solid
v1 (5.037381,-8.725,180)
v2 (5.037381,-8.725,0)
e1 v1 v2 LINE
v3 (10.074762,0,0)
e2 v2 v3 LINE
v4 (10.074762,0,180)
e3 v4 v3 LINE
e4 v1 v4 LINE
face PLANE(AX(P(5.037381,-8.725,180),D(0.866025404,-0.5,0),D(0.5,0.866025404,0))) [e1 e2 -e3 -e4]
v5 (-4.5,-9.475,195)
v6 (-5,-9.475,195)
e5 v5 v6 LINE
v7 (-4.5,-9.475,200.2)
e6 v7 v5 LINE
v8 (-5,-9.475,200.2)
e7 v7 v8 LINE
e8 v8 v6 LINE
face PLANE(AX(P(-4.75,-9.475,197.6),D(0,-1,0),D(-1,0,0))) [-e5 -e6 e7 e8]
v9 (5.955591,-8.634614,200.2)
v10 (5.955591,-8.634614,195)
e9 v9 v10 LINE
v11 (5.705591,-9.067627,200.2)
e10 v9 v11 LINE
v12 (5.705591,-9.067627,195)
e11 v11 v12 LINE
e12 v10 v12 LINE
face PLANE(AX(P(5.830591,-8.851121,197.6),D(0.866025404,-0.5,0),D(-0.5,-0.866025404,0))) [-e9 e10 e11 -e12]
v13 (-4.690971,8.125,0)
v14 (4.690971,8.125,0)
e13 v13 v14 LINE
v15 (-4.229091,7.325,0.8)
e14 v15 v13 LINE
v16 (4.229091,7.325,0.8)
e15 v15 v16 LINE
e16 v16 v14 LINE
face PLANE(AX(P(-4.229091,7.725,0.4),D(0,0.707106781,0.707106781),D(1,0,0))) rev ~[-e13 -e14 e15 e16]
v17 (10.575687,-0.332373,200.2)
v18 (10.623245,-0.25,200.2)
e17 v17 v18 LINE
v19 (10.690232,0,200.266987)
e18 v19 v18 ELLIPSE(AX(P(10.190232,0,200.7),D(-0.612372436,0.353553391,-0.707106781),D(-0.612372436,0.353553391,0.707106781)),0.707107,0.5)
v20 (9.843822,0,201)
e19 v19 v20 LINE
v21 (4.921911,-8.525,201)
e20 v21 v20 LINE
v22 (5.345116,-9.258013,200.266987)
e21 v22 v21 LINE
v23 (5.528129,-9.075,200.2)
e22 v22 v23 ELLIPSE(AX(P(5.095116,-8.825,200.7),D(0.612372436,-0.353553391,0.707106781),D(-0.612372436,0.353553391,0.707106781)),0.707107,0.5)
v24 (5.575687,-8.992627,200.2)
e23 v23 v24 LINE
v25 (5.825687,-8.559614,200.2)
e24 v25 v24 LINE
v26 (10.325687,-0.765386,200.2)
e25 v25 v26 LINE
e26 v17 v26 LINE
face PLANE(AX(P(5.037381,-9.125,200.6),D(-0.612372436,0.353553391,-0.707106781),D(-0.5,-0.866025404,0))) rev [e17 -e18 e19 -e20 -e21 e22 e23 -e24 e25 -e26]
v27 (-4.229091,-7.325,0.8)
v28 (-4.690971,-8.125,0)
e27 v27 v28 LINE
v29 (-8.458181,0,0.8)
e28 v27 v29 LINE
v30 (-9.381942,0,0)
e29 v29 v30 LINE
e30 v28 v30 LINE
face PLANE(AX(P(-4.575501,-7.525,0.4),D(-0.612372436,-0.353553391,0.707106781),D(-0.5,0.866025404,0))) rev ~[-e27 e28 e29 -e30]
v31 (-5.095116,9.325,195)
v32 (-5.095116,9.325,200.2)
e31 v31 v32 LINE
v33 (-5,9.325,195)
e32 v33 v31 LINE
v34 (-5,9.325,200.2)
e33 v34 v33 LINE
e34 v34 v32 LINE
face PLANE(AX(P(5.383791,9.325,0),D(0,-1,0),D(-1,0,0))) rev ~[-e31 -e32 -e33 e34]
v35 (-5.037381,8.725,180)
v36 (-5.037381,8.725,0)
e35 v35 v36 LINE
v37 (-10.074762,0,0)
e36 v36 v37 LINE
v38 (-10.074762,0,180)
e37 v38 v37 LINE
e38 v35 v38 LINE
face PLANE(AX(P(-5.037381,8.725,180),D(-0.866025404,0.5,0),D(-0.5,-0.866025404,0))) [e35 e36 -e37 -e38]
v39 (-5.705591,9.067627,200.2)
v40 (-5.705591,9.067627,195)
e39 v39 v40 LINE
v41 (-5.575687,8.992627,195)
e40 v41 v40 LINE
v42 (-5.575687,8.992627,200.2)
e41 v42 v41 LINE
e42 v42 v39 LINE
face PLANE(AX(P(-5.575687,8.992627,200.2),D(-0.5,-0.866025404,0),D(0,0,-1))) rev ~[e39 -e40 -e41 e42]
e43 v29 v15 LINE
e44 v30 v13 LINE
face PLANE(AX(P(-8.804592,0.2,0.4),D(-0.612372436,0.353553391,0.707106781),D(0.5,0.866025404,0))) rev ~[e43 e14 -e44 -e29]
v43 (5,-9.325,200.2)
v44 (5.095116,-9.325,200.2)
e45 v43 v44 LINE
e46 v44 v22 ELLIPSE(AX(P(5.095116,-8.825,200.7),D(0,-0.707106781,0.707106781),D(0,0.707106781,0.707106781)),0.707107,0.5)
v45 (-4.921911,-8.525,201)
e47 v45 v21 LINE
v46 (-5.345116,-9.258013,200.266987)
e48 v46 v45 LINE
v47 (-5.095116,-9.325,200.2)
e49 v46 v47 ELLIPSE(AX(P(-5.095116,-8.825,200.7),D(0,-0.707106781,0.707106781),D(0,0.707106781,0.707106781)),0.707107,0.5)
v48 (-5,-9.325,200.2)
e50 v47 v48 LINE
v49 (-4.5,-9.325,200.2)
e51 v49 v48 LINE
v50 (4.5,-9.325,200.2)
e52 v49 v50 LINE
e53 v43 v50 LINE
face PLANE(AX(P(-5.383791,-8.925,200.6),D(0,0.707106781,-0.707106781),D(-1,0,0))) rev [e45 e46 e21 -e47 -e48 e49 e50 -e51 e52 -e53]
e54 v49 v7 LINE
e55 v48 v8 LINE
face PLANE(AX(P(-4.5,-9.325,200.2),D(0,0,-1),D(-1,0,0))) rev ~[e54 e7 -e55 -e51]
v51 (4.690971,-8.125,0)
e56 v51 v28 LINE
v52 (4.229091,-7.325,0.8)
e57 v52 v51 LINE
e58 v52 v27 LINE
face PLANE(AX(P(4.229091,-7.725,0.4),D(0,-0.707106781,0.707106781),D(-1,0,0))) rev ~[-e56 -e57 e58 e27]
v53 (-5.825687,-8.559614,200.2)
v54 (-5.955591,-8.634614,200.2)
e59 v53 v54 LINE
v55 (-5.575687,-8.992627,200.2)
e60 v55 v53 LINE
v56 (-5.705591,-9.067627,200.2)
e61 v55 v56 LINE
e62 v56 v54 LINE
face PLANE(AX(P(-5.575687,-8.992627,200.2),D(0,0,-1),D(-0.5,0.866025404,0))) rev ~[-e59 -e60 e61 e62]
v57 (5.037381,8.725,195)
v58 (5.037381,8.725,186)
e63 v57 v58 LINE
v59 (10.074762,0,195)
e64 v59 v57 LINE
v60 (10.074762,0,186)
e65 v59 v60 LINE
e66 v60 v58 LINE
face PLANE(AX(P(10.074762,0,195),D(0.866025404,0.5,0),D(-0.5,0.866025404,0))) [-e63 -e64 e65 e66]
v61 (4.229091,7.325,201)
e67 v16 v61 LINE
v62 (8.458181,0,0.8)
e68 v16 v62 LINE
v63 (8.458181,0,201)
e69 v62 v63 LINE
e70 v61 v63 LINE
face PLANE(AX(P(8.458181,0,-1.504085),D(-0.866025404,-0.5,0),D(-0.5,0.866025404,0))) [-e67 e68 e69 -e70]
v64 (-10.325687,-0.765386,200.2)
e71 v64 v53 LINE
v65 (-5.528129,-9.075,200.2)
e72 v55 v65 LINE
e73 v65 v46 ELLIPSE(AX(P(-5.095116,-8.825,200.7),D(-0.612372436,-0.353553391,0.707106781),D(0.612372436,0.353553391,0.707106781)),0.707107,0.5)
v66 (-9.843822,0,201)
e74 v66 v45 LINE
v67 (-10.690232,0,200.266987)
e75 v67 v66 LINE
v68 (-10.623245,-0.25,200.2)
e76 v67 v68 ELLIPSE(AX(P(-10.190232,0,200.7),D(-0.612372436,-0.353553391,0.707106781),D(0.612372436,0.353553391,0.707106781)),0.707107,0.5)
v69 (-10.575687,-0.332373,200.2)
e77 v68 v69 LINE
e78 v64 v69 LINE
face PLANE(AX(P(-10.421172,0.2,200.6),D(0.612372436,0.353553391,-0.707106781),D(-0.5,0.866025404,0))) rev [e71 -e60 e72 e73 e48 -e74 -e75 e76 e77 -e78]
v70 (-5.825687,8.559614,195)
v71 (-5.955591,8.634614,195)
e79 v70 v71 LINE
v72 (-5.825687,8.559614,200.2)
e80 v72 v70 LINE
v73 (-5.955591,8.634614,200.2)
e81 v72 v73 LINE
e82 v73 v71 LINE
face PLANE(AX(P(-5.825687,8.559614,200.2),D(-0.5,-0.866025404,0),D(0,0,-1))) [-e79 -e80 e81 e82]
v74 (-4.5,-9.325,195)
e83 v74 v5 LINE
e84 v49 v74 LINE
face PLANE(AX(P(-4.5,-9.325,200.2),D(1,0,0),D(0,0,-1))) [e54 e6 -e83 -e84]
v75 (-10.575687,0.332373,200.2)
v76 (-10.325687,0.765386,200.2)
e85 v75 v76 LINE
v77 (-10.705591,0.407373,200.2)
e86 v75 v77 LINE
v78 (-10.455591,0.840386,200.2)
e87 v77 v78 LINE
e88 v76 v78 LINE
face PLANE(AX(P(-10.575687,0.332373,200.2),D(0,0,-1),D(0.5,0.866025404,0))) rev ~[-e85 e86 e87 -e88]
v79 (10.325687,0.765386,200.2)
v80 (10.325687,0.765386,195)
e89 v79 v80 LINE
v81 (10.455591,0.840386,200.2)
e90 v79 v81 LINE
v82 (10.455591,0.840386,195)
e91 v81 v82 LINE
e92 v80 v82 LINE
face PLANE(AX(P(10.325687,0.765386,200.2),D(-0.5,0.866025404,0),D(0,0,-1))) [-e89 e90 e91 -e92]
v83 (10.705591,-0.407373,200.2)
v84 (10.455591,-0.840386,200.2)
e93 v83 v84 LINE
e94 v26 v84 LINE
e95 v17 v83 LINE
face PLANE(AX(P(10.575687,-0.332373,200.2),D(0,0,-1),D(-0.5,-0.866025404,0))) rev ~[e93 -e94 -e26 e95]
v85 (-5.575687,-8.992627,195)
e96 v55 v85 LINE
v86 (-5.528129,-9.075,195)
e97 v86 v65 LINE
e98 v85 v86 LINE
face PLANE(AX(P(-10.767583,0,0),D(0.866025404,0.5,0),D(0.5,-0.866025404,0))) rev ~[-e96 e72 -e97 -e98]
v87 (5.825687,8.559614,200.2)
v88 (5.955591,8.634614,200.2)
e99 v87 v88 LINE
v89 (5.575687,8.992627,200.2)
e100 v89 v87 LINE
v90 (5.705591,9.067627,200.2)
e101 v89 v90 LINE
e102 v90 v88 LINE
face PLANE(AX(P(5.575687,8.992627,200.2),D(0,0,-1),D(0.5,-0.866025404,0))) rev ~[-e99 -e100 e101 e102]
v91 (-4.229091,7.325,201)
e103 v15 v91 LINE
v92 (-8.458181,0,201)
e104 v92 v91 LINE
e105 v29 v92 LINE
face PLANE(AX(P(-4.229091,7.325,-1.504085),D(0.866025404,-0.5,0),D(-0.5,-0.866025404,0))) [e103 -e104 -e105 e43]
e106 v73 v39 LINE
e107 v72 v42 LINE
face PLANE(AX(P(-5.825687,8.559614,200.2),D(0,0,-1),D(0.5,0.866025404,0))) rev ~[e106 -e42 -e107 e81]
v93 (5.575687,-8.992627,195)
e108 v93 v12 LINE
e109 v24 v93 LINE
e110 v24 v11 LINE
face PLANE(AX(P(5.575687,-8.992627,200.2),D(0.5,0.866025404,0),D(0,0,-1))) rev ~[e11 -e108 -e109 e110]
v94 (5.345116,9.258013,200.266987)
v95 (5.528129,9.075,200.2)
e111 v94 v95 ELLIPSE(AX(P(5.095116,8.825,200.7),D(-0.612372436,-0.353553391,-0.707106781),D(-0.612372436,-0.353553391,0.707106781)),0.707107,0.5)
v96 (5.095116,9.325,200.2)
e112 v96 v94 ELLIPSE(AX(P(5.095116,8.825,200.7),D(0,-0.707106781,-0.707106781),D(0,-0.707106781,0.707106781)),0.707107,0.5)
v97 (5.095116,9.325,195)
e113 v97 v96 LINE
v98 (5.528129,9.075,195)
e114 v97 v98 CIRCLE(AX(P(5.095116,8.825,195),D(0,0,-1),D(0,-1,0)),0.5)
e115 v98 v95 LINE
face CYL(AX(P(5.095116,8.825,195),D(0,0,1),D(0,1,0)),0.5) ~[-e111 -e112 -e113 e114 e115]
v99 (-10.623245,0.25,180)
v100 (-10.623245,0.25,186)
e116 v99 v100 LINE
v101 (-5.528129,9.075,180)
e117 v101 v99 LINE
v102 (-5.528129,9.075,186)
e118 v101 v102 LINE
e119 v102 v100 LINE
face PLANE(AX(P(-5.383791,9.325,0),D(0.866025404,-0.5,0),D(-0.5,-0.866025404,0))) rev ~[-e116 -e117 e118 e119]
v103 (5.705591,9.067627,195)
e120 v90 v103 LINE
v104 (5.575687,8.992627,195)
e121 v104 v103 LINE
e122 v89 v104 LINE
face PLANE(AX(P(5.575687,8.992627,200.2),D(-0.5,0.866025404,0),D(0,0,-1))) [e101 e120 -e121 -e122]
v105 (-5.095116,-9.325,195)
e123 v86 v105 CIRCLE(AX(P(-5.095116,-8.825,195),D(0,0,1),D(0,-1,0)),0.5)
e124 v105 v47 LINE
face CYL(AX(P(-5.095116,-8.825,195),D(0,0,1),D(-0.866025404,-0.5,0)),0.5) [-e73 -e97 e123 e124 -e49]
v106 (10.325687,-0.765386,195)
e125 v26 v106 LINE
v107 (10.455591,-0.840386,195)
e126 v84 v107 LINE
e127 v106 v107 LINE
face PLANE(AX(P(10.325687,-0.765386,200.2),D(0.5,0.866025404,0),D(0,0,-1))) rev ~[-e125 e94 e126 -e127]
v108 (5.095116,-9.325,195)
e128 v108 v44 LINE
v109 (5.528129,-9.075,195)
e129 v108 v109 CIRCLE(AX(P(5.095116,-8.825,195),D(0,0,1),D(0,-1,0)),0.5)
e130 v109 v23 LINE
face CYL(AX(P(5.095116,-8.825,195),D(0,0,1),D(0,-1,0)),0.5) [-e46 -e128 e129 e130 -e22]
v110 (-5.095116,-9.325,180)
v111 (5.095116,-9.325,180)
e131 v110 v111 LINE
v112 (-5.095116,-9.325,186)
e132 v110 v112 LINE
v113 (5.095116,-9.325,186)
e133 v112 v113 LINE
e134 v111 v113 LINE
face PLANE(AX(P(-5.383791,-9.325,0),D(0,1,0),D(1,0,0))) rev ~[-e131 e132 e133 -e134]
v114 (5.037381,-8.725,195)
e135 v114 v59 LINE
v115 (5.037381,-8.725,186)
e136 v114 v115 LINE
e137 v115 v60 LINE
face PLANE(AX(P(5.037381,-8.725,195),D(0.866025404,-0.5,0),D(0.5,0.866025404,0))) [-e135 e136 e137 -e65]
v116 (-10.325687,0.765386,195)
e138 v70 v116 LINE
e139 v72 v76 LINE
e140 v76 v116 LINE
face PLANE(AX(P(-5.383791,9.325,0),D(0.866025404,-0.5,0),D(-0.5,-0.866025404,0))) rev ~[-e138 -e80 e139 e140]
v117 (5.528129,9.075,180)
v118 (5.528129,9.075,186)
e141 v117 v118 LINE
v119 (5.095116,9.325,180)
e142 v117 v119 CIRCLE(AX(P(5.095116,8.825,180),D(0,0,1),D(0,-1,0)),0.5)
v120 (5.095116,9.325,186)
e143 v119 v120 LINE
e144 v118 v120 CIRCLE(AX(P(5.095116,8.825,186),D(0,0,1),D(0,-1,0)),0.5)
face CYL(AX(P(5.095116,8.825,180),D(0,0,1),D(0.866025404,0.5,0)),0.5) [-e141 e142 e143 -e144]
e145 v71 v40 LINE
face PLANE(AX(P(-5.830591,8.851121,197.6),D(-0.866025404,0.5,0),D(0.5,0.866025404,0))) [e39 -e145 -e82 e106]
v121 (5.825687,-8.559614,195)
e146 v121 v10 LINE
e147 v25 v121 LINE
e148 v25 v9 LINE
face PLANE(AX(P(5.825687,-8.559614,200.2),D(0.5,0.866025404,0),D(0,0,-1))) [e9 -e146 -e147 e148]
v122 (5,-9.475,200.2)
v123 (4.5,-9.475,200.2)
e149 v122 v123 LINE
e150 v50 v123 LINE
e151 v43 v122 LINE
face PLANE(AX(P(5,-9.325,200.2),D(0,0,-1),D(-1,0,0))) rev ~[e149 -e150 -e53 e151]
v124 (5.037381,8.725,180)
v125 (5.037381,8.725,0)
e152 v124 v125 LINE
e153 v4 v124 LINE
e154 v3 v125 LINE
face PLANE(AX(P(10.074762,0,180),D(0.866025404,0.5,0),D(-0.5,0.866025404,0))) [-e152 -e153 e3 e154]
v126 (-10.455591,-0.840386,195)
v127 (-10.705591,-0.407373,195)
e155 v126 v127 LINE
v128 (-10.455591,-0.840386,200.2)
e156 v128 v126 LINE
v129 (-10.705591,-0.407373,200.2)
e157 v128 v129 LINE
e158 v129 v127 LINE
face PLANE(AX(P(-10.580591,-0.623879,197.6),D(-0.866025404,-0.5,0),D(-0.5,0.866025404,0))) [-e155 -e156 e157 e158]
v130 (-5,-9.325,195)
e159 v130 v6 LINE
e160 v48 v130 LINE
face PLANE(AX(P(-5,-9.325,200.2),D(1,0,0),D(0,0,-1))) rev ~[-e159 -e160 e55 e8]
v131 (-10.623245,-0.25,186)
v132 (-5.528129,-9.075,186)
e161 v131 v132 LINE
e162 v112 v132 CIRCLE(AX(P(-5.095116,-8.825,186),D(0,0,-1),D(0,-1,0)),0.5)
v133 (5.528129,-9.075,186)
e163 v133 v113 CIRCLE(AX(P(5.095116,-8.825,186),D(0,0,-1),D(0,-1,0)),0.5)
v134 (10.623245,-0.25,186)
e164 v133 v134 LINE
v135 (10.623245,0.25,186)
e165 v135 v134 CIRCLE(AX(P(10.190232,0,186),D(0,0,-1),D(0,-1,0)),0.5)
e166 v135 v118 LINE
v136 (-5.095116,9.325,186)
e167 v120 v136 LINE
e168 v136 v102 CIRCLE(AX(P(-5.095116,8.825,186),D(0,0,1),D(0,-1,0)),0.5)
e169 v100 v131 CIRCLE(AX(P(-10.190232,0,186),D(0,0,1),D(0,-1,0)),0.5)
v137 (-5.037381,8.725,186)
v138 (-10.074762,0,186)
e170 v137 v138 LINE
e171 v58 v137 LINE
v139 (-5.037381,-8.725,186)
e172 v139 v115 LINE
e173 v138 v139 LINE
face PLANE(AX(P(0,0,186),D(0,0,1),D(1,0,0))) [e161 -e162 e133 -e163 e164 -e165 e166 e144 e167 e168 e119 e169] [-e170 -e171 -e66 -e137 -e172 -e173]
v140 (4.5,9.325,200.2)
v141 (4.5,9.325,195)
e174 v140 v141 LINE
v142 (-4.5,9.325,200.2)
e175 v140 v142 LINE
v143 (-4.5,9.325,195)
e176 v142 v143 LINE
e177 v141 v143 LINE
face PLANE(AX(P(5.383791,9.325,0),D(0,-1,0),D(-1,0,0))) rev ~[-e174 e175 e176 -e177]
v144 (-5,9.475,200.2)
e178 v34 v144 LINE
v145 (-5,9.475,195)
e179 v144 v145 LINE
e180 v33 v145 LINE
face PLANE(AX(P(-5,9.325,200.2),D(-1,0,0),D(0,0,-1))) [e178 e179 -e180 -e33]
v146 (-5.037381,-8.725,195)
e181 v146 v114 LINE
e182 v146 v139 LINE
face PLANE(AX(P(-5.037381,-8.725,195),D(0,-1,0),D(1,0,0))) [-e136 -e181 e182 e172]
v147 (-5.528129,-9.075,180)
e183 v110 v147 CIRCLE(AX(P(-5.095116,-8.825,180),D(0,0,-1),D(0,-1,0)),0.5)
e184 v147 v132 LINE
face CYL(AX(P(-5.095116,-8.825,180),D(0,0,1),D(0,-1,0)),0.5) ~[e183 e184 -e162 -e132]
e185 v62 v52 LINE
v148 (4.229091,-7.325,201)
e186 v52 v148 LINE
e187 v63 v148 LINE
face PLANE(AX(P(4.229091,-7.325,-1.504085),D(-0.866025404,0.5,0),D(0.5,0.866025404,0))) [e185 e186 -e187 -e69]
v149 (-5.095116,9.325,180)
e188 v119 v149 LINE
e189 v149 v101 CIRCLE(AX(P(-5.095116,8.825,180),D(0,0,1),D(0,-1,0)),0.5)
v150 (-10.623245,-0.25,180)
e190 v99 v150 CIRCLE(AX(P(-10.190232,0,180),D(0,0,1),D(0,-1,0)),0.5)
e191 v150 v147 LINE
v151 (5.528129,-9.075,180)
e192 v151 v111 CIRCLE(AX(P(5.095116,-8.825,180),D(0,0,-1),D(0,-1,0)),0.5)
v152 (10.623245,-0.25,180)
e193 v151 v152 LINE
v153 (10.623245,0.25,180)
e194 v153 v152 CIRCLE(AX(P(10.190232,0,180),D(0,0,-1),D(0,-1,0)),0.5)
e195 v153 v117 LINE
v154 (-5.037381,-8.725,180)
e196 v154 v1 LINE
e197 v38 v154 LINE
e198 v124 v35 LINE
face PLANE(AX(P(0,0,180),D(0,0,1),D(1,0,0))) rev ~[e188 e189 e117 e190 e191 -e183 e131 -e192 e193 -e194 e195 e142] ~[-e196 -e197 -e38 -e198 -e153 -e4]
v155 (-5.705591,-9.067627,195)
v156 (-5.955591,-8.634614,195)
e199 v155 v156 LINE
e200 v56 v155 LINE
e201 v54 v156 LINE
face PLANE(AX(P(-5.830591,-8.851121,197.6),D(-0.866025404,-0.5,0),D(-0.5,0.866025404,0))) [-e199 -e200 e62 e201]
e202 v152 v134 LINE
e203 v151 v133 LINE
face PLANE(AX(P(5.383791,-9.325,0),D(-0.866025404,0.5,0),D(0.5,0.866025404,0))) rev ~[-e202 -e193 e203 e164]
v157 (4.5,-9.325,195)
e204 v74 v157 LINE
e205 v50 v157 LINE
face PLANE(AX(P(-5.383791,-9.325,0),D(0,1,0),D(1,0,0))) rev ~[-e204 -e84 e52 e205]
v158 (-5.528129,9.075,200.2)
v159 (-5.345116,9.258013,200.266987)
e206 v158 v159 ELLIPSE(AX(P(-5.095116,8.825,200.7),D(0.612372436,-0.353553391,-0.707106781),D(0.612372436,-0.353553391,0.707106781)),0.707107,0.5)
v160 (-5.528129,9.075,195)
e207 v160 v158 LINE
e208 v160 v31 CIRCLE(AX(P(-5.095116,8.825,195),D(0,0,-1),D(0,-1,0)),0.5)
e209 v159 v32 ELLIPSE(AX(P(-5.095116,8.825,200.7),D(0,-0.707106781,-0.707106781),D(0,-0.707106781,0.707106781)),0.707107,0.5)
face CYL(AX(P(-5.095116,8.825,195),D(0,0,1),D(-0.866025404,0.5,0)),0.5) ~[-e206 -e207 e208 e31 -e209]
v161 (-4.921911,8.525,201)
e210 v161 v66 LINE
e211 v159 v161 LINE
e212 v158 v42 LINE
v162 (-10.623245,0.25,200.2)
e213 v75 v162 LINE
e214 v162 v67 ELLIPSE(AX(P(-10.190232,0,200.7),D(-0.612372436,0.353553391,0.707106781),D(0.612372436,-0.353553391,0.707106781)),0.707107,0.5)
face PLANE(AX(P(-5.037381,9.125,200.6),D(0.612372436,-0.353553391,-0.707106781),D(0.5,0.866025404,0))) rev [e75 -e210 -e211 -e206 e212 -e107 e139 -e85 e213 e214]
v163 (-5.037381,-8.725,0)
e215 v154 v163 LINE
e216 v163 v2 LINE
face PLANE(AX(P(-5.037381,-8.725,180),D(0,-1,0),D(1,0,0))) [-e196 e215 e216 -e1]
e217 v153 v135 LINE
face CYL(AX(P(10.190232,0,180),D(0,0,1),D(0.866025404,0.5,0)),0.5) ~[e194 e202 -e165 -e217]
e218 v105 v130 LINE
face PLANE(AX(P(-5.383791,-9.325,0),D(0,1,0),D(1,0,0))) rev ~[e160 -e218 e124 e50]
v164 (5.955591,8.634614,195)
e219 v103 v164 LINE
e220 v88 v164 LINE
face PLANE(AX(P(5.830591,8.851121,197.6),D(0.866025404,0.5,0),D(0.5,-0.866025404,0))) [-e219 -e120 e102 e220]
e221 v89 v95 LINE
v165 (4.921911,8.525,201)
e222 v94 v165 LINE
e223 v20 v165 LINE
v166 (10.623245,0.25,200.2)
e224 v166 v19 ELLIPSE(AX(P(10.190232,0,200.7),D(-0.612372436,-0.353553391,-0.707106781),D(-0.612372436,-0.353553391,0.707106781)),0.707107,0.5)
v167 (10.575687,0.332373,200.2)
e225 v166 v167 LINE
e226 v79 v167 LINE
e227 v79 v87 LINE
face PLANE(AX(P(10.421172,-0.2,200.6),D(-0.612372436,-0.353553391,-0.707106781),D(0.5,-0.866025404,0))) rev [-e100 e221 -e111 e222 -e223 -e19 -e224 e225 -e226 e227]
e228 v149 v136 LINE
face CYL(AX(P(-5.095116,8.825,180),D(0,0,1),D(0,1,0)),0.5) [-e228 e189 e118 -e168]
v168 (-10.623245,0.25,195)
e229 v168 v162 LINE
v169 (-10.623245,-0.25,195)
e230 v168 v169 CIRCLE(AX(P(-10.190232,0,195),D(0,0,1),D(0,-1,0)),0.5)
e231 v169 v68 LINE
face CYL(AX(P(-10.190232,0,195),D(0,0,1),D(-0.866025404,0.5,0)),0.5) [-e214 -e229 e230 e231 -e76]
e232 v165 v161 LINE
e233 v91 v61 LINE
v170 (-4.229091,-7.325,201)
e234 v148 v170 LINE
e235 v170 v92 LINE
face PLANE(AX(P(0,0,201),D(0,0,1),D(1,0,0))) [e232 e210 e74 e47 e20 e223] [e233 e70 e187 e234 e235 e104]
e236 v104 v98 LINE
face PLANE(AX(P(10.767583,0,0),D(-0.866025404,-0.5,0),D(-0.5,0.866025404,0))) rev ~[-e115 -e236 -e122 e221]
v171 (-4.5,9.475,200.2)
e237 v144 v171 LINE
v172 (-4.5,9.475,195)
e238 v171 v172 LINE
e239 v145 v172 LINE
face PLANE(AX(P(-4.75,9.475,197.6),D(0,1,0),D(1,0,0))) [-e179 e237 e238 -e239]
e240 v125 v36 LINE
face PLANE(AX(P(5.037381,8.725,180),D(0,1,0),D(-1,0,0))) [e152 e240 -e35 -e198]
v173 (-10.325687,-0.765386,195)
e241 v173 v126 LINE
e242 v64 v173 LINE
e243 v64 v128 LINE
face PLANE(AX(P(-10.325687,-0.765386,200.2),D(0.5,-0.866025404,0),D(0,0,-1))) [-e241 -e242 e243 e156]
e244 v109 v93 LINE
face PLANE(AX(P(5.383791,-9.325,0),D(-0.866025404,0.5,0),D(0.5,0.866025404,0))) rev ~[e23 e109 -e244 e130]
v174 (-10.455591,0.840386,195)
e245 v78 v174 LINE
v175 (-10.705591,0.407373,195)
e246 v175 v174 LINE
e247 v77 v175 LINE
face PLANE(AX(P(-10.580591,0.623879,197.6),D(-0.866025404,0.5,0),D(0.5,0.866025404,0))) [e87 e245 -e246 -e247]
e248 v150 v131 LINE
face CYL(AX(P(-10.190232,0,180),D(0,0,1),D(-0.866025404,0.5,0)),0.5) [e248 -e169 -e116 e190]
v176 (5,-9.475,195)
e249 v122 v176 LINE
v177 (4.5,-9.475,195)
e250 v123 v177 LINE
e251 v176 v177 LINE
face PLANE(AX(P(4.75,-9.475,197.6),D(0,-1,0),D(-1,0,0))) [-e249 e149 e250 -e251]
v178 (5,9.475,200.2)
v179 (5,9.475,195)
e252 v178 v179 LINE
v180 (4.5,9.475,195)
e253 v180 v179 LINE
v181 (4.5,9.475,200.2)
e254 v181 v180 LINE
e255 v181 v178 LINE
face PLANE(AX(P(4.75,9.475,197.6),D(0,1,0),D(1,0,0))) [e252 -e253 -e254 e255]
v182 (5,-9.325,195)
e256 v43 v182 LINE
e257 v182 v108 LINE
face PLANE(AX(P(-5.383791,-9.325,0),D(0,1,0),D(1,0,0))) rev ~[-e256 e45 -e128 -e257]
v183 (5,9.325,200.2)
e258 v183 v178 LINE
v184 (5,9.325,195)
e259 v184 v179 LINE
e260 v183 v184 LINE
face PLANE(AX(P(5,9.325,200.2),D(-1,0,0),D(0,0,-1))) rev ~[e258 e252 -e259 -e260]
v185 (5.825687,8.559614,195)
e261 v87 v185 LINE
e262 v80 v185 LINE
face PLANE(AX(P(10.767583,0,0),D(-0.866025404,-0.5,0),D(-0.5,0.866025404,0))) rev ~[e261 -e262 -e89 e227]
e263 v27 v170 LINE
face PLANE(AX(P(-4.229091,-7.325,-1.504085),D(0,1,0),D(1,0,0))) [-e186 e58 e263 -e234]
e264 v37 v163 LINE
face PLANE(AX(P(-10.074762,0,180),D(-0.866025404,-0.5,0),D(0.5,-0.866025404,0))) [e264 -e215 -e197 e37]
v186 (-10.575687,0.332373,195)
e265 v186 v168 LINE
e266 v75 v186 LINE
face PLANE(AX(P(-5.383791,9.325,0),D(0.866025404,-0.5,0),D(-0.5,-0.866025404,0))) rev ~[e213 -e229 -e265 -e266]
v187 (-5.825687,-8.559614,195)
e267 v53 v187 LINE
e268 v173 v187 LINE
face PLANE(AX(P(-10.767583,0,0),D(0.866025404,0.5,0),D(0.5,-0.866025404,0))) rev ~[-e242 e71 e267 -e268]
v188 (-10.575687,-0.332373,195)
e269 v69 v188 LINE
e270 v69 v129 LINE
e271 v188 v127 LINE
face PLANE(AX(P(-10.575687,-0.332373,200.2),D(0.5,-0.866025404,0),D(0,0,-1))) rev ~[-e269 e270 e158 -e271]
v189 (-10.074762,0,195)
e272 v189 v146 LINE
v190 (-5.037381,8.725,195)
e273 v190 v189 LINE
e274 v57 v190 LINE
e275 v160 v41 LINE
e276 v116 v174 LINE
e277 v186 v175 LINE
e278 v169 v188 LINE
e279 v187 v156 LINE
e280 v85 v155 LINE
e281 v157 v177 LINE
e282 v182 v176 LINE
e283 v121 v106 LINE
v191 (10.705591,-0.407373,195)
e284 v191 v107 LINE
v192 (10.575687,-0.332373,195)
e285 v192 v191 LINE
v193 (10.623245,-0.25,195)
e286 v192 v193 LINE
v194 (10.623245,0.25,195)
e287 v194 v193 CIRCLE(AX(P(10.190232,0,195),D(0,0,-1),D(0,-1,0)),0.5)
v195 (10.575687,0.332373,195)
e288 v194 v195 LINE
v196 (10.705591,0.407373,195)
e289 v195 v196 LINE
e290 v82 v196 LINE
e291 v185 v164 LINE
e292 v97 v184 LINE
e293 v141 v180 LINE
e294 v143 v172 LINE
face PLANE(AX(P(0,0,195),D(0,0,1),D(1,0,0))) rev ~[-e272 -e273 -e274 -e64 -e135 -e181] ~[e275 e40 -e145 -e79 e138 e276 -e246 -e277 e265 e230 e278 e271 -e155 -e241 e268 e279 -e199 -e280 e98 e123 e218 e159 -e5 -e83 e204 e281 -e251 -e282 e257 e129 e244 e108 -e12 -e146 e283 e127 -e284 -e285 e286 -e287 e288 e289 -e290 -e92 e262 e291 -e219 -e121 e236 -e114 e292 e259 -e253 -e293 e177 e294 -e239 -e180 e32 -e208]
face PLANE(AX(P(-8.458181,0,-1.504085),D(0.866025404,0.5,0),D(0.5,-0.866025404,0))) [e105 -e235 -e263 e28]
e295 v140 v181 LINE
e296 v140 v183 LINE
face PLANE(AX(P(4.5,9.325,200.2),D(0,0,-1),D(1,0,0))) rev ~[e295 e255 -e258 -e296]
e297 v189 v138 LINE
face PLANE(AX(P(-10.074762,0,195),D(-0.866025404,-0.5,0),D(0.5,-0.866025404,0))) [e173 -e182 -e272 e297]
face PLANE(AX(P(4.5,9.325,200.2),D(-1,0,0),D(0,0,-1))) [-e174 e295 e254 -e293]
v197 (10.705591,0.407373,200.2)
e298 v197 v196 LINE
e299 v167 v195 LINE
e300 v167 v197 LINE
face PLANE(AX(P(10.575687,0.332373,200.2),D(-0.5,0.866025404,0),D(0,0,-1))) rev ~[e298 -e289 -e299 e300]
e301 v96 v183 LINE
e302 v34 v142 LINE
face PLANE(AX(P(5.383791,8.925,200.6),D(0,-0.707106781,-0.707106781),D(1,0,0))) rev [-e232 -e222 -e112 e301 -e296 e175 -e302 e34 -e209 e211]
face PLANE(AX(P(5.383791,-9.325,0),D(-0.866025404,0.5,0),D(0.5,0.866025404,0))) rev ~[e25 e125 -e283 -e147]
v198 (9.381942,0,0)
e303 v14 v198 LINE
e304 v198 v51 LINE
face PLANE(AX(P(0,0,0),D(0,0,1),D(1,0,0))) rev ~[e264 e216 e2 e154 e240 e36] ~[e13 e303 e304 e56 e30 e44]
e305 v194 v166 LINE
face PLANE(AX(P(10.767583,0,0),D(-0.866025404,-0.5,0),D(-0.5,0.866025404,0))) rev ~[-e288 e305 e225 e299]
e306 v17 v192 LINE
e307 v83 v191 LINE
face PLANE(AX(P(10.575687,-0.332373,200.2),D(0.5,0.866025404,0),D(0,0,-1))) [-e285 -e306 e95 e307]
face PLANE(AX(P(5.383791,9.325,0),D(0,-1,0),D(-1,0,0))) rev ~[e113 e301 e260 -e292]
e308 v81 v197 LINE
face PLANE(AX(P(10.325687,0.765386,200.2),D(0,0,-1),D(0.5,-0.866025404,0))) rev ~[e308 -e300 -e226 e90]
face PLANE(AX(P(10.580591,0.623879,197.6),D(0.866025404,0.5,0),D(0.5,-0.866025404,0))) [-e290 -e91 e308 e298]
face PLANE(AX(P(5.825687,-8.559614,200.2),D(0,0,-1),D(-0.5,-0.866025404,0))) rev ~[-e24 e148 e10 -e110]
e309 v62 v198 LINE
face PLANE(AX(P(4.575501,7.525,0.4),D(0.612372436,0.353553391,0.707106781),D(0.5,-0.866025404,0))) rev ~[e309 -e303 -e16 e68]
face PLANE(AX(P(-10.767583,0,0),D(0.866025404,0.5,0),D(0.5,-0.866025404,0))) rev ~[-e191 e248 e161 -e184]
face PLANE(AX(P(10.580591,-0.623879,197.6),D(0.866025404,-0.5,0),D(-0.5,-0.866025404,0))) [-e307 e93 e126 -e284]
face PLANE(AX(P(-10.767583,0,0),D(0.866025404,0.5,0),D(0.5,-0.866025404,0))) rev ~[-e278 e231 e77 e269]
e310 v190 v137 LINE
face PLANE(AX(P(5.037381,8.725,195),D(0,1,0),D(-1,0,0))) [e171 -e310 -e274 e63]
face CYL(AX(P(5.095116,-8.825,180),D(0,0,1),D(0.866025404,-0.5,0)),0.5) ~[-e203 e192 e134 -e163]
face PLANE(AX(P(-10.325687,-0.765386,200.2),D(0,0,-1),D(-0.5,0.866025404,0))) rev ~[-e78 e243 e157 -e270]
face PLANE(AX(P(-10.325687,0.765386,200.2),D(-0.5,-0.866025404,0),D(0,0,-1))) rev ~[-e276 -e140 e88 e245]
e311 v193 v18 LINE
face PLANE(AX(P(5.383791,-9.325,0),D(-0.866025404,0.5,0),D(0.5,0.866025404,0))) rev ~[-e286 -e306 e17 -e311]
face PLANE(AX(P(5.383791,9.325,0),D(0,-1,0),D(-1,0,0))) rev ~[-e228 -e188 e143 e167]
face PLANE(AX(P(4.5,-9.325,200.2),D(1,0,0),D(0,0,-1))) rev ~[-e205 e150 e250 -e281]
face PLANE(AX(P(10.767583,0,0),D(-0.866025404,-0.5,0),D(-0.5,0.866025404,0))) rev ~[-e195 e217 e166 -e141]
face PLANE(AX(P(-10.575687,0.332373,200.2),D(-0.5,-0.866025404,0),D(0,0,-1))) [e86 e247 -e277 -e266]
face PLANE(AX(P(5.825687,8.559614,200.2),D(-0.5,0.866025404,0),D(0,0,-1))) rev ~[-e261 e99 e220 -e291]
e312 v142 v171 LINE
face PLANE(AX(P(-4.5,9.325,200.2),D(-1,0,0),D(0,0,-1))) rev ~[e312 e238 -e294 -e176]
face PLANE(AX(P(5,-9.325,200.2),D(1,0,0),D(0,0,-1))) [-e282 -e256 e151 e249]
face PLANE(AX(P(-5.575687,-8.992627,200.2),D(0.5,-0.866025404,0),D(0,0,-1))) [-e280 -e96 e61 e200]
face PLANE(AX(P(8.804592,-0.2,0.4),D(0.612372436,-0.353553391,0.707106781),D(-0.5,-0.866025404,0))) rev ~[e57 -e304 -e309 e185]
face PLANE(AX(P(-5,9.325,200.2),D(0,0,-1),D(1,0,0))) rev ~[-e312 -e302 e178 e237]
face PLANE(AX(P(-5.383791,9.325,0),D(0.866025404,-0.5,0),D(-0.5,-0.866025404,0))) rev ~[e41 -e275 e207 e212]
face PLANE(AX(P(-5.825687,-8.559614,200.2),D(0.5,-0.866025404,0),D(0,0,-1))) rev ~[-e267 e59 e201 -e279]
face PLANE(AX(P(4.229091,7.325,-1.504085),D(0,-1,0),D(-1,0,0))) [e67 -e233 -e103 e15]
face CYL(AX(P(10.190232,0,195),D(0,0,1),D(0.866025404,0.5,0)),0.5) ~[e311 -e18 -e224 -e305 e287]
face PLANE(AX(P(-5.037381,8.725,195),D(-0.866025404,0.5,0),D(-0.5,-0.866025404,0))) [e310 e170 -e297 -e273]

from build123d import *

# Parameters (mm, degrees)
TUBE_FULL_AF_EXTRUSION_DEPTH    = 201
TUBE_BORE_CUT_DEPTH             = 202.504085463
TUBE_BORE_CUT_DEPTH_BACK        = 202.504085463
T4_LOWER_BODY_RELIEF_START      = -6
T4_LOWER_BODY_RELIEF_DEPTH      = 9
T4_UPPER_BODY_RELIEF_START      = 6
T4_UPPER_BODY_RELIEF_DEPTH      = 180
T4_BOTTOM_END_CHAMFER_SIZE      = 0.8
T4_TUBE_MOUTH_CHAMFER_SIZE      = 0.8
T4_GUIDE_BAND_CORNER_FILLETS_R  = 0.5
T4_STOP_BAND_CORNER_FILLETS_R   = 0.5
T4_GUIDE_BAND_RIB_PROFILE_W     = 0.5
T4_GUIDE_BAND_RIB_PROFILE_H     = 5.2
T4_GUIDE_BAND_RIBS_MASTER_DEPTH = 0.15
T4_GUIDE_BAND_RIB_PATTERN_COUNT = 6


with BuildPart() as part:
    # Tube_Full_AF_Profile → Tube_Full_AF_Extrusion (new body)
    with BuildSketch(Plane.XY):
        Polygon((5.38379126, 9.325), (-5.38379126, 9.325), (-10.76758252, 0), (-5.38379126, -9.325), (5.38379126, -9.325), (10.76758252, 0), align=None)
    extrude(amount=TUBE_FULL_AF_EXTRUSION_DEPTH)

    # Tube_Bore_Profile → Tube_Bore_Cut (cut, two sides: drawn at the far end of the back side and taken through both)
    with BuildSketch(Plane.XY.offset(201).offset(-TUBE_BORE_CUT_DEPTH_BACK)):
        Polygon((8.458181444, 0), (4.229090722, 7.325), (-4.229090722, 7.325), (-8.458181444, 0), (-4.229090722, -7.325), (4.229090722, -7.325), align=None)
    extrude(amount=TUBE_BORE_CUT_DEPTH + TUBE_BORE_CUT_DEPTH_BACK, mode=Mode.SUBTRACT)

    # T4_Lower_Relief_Profile → T4_Lower_Body_Relief (cut)
    with BuildSketch(Plane.XY.offset(201).offset(T4_LOWER_BODY_RELIEF_START)):
        Polygon((10.76758252, 0), (5.38379126, 9.325), (-5.38379126, 9.325), (-10.76758252, 0), (-5.38379126, -9.325), (5.38379126, -9.325), align=None)
        Polygon((10.074762197, 0), (5.037381099, 8.725), (-5.037381099, 8.725), (-10.074762197, 0), (-5.037381099, -8.725), (5.037381099, -8.725), align=None, mode=Mode.SUBTRACT)
    extrude(amount=-T4_LOWER_BODY_RELIEF_DEPTH, mode=Mode.SUBTRACT)

    # T4_Upper_Relief_Profile → T4_Upper_Body_Relief (cut)
    with BuildSketch(Plane.XY.offset(174).offset(T4_UPPER_BODY_RELIEF_START)):
        Polygon((5.38379126, -9.325), (10.76758252, 0), (5.38379126, 9.325), (-5.38379126, 9.325), (-10.76758252, 0), (-5.38379126, -9.325), align=None)
        Polygon((5.037381099, 8.725), (10.074762197, 0), (5.037381099, -8.725), (-5.037381099, -8.725), (-10.074762197, 0), (-5.037381099, 8.725), align=None, mode=Mode.SUBTRACT)
    extrude(amount=-T4_UPPER_BODY_RELIEF_DEPTH, mode=Mode.SUBTRACT)

    # T4_Bottom_End_Chamfer
    t4_bottom_end_chamfer_edges = [part.edges().sort_by_distance(p)[0] for p in [
        (0, 9.325, 201),
        (-8.07568689, 4.6625, 201),
        (-8.07568689, -4.6625, 201),
        (0, -9.325, 201),
        (8.07568689, -4.6625, 201),
        (8.07568689, 4.6625, 201),
    ]]
    chamfer(t4_bottom_end_chamfer_edges, length=T4_BOTTOM_END_CHAMFER_SIZE)

    # T4_Tube_Mouth_Chamfer
    t4_tube_mouth_chamfer_edges = [part.edges().sort_by_distance(p)[0] for p in [
        (6.343636083, 3.6625, 0),
        (6.343636083, -3.6625, 0),
        (0, -7.325, 0),
        (-6.343636083, -3.6625, 0),
        (-6.343636083, 3.6625, 0),
        (0, 7.325, 0),
    ]]
    chamfer(t4_tube_mouth_chamfer_edges, length=T4_TUBE_MOUTH_CHAMFER_SIZE)

    # T4_Guide_Band_Corner_Fillets
    t4_guide_band_corner_fillets_edges = [part.edges().sort_by_distance(p)[0] for p in [
        (10.76758252, 0, 197.6),
        (5.38379126, -9.325, 197.6),
        (-5.38379126, -9.325, 197.6),
        (-10.76758252, 0, 197.6),
        (-5.38379126, 9.325, 197.6),
        (5.38379126, 9.325, 197.6),
    ]]
    fillet(t4_guide_band_corner_fillets_edges, radius=T4_GUIDE_BAND_CORNER_FILLETS_R)

    # T4_Stop_Band_Corner_Fillets
    t4_stop_band_corner_fillets_edges = [part.edges().sort_by_distance(p)[0] for p in [
        (-5.38379126, 9.325, 183),
        (-10.76758252, 0, 183),
        (-5.38379126, -9.325, 183),
        (5.38379126, -9.325, 183),
        (10.76758252, 0, 183),
        (5.38379126, 9.325, 183),
    ]]
    fillet(t4_stop_band_corner_fillets_edges, radius=T4_STOP_BAND_CORNER_FILLETS_R)

    # T4_Guide_Band_Rib_Profile → T4_Guide_Band_Ribs_Master (add)
    with BuildSketch(Plane(origin=(0, 9.325, 0), x_dir=(1, 0, 0), z_dir=(0, 1, 0))):
        with Locations((-4.75, -197.6)):
            Rectangle(T4_GUIDE_BAND_RIB_PROFILE_W, T4_GUIDE_BAND_RIB_PROFILE_H)
        with Locations((4.75, -197.6)):
            Rectangle(T4_GUIDE_BAND_RIB_PROFILE_W, T4_GUIDE_BAND_RIB_PROFILE_H)
    t4_guide_band_ribs_master = extrude(amount=T4_GUIDE_BAND_RIBS_MASTER_DEPTH)

    # T4_Guide_Band_Rib_Pattern: T4_Guide_Band_Ribs_Master ×6 about axis
    t4_guide_band_rib_pattern_axis = Axis((0, 0, -78.876304343), (0, 0, 1))
    for i in range(1, T4_GUIDE_BAND_RIB_PATTERN_COUNT):
        add(t4_guide_band_ribs_master.rotate(t4_guide_band_rib_pattern_axis, i * 360 / T4_GUIDE_BAND_RIB_PATTERN_COUNT))


solid = part.part
